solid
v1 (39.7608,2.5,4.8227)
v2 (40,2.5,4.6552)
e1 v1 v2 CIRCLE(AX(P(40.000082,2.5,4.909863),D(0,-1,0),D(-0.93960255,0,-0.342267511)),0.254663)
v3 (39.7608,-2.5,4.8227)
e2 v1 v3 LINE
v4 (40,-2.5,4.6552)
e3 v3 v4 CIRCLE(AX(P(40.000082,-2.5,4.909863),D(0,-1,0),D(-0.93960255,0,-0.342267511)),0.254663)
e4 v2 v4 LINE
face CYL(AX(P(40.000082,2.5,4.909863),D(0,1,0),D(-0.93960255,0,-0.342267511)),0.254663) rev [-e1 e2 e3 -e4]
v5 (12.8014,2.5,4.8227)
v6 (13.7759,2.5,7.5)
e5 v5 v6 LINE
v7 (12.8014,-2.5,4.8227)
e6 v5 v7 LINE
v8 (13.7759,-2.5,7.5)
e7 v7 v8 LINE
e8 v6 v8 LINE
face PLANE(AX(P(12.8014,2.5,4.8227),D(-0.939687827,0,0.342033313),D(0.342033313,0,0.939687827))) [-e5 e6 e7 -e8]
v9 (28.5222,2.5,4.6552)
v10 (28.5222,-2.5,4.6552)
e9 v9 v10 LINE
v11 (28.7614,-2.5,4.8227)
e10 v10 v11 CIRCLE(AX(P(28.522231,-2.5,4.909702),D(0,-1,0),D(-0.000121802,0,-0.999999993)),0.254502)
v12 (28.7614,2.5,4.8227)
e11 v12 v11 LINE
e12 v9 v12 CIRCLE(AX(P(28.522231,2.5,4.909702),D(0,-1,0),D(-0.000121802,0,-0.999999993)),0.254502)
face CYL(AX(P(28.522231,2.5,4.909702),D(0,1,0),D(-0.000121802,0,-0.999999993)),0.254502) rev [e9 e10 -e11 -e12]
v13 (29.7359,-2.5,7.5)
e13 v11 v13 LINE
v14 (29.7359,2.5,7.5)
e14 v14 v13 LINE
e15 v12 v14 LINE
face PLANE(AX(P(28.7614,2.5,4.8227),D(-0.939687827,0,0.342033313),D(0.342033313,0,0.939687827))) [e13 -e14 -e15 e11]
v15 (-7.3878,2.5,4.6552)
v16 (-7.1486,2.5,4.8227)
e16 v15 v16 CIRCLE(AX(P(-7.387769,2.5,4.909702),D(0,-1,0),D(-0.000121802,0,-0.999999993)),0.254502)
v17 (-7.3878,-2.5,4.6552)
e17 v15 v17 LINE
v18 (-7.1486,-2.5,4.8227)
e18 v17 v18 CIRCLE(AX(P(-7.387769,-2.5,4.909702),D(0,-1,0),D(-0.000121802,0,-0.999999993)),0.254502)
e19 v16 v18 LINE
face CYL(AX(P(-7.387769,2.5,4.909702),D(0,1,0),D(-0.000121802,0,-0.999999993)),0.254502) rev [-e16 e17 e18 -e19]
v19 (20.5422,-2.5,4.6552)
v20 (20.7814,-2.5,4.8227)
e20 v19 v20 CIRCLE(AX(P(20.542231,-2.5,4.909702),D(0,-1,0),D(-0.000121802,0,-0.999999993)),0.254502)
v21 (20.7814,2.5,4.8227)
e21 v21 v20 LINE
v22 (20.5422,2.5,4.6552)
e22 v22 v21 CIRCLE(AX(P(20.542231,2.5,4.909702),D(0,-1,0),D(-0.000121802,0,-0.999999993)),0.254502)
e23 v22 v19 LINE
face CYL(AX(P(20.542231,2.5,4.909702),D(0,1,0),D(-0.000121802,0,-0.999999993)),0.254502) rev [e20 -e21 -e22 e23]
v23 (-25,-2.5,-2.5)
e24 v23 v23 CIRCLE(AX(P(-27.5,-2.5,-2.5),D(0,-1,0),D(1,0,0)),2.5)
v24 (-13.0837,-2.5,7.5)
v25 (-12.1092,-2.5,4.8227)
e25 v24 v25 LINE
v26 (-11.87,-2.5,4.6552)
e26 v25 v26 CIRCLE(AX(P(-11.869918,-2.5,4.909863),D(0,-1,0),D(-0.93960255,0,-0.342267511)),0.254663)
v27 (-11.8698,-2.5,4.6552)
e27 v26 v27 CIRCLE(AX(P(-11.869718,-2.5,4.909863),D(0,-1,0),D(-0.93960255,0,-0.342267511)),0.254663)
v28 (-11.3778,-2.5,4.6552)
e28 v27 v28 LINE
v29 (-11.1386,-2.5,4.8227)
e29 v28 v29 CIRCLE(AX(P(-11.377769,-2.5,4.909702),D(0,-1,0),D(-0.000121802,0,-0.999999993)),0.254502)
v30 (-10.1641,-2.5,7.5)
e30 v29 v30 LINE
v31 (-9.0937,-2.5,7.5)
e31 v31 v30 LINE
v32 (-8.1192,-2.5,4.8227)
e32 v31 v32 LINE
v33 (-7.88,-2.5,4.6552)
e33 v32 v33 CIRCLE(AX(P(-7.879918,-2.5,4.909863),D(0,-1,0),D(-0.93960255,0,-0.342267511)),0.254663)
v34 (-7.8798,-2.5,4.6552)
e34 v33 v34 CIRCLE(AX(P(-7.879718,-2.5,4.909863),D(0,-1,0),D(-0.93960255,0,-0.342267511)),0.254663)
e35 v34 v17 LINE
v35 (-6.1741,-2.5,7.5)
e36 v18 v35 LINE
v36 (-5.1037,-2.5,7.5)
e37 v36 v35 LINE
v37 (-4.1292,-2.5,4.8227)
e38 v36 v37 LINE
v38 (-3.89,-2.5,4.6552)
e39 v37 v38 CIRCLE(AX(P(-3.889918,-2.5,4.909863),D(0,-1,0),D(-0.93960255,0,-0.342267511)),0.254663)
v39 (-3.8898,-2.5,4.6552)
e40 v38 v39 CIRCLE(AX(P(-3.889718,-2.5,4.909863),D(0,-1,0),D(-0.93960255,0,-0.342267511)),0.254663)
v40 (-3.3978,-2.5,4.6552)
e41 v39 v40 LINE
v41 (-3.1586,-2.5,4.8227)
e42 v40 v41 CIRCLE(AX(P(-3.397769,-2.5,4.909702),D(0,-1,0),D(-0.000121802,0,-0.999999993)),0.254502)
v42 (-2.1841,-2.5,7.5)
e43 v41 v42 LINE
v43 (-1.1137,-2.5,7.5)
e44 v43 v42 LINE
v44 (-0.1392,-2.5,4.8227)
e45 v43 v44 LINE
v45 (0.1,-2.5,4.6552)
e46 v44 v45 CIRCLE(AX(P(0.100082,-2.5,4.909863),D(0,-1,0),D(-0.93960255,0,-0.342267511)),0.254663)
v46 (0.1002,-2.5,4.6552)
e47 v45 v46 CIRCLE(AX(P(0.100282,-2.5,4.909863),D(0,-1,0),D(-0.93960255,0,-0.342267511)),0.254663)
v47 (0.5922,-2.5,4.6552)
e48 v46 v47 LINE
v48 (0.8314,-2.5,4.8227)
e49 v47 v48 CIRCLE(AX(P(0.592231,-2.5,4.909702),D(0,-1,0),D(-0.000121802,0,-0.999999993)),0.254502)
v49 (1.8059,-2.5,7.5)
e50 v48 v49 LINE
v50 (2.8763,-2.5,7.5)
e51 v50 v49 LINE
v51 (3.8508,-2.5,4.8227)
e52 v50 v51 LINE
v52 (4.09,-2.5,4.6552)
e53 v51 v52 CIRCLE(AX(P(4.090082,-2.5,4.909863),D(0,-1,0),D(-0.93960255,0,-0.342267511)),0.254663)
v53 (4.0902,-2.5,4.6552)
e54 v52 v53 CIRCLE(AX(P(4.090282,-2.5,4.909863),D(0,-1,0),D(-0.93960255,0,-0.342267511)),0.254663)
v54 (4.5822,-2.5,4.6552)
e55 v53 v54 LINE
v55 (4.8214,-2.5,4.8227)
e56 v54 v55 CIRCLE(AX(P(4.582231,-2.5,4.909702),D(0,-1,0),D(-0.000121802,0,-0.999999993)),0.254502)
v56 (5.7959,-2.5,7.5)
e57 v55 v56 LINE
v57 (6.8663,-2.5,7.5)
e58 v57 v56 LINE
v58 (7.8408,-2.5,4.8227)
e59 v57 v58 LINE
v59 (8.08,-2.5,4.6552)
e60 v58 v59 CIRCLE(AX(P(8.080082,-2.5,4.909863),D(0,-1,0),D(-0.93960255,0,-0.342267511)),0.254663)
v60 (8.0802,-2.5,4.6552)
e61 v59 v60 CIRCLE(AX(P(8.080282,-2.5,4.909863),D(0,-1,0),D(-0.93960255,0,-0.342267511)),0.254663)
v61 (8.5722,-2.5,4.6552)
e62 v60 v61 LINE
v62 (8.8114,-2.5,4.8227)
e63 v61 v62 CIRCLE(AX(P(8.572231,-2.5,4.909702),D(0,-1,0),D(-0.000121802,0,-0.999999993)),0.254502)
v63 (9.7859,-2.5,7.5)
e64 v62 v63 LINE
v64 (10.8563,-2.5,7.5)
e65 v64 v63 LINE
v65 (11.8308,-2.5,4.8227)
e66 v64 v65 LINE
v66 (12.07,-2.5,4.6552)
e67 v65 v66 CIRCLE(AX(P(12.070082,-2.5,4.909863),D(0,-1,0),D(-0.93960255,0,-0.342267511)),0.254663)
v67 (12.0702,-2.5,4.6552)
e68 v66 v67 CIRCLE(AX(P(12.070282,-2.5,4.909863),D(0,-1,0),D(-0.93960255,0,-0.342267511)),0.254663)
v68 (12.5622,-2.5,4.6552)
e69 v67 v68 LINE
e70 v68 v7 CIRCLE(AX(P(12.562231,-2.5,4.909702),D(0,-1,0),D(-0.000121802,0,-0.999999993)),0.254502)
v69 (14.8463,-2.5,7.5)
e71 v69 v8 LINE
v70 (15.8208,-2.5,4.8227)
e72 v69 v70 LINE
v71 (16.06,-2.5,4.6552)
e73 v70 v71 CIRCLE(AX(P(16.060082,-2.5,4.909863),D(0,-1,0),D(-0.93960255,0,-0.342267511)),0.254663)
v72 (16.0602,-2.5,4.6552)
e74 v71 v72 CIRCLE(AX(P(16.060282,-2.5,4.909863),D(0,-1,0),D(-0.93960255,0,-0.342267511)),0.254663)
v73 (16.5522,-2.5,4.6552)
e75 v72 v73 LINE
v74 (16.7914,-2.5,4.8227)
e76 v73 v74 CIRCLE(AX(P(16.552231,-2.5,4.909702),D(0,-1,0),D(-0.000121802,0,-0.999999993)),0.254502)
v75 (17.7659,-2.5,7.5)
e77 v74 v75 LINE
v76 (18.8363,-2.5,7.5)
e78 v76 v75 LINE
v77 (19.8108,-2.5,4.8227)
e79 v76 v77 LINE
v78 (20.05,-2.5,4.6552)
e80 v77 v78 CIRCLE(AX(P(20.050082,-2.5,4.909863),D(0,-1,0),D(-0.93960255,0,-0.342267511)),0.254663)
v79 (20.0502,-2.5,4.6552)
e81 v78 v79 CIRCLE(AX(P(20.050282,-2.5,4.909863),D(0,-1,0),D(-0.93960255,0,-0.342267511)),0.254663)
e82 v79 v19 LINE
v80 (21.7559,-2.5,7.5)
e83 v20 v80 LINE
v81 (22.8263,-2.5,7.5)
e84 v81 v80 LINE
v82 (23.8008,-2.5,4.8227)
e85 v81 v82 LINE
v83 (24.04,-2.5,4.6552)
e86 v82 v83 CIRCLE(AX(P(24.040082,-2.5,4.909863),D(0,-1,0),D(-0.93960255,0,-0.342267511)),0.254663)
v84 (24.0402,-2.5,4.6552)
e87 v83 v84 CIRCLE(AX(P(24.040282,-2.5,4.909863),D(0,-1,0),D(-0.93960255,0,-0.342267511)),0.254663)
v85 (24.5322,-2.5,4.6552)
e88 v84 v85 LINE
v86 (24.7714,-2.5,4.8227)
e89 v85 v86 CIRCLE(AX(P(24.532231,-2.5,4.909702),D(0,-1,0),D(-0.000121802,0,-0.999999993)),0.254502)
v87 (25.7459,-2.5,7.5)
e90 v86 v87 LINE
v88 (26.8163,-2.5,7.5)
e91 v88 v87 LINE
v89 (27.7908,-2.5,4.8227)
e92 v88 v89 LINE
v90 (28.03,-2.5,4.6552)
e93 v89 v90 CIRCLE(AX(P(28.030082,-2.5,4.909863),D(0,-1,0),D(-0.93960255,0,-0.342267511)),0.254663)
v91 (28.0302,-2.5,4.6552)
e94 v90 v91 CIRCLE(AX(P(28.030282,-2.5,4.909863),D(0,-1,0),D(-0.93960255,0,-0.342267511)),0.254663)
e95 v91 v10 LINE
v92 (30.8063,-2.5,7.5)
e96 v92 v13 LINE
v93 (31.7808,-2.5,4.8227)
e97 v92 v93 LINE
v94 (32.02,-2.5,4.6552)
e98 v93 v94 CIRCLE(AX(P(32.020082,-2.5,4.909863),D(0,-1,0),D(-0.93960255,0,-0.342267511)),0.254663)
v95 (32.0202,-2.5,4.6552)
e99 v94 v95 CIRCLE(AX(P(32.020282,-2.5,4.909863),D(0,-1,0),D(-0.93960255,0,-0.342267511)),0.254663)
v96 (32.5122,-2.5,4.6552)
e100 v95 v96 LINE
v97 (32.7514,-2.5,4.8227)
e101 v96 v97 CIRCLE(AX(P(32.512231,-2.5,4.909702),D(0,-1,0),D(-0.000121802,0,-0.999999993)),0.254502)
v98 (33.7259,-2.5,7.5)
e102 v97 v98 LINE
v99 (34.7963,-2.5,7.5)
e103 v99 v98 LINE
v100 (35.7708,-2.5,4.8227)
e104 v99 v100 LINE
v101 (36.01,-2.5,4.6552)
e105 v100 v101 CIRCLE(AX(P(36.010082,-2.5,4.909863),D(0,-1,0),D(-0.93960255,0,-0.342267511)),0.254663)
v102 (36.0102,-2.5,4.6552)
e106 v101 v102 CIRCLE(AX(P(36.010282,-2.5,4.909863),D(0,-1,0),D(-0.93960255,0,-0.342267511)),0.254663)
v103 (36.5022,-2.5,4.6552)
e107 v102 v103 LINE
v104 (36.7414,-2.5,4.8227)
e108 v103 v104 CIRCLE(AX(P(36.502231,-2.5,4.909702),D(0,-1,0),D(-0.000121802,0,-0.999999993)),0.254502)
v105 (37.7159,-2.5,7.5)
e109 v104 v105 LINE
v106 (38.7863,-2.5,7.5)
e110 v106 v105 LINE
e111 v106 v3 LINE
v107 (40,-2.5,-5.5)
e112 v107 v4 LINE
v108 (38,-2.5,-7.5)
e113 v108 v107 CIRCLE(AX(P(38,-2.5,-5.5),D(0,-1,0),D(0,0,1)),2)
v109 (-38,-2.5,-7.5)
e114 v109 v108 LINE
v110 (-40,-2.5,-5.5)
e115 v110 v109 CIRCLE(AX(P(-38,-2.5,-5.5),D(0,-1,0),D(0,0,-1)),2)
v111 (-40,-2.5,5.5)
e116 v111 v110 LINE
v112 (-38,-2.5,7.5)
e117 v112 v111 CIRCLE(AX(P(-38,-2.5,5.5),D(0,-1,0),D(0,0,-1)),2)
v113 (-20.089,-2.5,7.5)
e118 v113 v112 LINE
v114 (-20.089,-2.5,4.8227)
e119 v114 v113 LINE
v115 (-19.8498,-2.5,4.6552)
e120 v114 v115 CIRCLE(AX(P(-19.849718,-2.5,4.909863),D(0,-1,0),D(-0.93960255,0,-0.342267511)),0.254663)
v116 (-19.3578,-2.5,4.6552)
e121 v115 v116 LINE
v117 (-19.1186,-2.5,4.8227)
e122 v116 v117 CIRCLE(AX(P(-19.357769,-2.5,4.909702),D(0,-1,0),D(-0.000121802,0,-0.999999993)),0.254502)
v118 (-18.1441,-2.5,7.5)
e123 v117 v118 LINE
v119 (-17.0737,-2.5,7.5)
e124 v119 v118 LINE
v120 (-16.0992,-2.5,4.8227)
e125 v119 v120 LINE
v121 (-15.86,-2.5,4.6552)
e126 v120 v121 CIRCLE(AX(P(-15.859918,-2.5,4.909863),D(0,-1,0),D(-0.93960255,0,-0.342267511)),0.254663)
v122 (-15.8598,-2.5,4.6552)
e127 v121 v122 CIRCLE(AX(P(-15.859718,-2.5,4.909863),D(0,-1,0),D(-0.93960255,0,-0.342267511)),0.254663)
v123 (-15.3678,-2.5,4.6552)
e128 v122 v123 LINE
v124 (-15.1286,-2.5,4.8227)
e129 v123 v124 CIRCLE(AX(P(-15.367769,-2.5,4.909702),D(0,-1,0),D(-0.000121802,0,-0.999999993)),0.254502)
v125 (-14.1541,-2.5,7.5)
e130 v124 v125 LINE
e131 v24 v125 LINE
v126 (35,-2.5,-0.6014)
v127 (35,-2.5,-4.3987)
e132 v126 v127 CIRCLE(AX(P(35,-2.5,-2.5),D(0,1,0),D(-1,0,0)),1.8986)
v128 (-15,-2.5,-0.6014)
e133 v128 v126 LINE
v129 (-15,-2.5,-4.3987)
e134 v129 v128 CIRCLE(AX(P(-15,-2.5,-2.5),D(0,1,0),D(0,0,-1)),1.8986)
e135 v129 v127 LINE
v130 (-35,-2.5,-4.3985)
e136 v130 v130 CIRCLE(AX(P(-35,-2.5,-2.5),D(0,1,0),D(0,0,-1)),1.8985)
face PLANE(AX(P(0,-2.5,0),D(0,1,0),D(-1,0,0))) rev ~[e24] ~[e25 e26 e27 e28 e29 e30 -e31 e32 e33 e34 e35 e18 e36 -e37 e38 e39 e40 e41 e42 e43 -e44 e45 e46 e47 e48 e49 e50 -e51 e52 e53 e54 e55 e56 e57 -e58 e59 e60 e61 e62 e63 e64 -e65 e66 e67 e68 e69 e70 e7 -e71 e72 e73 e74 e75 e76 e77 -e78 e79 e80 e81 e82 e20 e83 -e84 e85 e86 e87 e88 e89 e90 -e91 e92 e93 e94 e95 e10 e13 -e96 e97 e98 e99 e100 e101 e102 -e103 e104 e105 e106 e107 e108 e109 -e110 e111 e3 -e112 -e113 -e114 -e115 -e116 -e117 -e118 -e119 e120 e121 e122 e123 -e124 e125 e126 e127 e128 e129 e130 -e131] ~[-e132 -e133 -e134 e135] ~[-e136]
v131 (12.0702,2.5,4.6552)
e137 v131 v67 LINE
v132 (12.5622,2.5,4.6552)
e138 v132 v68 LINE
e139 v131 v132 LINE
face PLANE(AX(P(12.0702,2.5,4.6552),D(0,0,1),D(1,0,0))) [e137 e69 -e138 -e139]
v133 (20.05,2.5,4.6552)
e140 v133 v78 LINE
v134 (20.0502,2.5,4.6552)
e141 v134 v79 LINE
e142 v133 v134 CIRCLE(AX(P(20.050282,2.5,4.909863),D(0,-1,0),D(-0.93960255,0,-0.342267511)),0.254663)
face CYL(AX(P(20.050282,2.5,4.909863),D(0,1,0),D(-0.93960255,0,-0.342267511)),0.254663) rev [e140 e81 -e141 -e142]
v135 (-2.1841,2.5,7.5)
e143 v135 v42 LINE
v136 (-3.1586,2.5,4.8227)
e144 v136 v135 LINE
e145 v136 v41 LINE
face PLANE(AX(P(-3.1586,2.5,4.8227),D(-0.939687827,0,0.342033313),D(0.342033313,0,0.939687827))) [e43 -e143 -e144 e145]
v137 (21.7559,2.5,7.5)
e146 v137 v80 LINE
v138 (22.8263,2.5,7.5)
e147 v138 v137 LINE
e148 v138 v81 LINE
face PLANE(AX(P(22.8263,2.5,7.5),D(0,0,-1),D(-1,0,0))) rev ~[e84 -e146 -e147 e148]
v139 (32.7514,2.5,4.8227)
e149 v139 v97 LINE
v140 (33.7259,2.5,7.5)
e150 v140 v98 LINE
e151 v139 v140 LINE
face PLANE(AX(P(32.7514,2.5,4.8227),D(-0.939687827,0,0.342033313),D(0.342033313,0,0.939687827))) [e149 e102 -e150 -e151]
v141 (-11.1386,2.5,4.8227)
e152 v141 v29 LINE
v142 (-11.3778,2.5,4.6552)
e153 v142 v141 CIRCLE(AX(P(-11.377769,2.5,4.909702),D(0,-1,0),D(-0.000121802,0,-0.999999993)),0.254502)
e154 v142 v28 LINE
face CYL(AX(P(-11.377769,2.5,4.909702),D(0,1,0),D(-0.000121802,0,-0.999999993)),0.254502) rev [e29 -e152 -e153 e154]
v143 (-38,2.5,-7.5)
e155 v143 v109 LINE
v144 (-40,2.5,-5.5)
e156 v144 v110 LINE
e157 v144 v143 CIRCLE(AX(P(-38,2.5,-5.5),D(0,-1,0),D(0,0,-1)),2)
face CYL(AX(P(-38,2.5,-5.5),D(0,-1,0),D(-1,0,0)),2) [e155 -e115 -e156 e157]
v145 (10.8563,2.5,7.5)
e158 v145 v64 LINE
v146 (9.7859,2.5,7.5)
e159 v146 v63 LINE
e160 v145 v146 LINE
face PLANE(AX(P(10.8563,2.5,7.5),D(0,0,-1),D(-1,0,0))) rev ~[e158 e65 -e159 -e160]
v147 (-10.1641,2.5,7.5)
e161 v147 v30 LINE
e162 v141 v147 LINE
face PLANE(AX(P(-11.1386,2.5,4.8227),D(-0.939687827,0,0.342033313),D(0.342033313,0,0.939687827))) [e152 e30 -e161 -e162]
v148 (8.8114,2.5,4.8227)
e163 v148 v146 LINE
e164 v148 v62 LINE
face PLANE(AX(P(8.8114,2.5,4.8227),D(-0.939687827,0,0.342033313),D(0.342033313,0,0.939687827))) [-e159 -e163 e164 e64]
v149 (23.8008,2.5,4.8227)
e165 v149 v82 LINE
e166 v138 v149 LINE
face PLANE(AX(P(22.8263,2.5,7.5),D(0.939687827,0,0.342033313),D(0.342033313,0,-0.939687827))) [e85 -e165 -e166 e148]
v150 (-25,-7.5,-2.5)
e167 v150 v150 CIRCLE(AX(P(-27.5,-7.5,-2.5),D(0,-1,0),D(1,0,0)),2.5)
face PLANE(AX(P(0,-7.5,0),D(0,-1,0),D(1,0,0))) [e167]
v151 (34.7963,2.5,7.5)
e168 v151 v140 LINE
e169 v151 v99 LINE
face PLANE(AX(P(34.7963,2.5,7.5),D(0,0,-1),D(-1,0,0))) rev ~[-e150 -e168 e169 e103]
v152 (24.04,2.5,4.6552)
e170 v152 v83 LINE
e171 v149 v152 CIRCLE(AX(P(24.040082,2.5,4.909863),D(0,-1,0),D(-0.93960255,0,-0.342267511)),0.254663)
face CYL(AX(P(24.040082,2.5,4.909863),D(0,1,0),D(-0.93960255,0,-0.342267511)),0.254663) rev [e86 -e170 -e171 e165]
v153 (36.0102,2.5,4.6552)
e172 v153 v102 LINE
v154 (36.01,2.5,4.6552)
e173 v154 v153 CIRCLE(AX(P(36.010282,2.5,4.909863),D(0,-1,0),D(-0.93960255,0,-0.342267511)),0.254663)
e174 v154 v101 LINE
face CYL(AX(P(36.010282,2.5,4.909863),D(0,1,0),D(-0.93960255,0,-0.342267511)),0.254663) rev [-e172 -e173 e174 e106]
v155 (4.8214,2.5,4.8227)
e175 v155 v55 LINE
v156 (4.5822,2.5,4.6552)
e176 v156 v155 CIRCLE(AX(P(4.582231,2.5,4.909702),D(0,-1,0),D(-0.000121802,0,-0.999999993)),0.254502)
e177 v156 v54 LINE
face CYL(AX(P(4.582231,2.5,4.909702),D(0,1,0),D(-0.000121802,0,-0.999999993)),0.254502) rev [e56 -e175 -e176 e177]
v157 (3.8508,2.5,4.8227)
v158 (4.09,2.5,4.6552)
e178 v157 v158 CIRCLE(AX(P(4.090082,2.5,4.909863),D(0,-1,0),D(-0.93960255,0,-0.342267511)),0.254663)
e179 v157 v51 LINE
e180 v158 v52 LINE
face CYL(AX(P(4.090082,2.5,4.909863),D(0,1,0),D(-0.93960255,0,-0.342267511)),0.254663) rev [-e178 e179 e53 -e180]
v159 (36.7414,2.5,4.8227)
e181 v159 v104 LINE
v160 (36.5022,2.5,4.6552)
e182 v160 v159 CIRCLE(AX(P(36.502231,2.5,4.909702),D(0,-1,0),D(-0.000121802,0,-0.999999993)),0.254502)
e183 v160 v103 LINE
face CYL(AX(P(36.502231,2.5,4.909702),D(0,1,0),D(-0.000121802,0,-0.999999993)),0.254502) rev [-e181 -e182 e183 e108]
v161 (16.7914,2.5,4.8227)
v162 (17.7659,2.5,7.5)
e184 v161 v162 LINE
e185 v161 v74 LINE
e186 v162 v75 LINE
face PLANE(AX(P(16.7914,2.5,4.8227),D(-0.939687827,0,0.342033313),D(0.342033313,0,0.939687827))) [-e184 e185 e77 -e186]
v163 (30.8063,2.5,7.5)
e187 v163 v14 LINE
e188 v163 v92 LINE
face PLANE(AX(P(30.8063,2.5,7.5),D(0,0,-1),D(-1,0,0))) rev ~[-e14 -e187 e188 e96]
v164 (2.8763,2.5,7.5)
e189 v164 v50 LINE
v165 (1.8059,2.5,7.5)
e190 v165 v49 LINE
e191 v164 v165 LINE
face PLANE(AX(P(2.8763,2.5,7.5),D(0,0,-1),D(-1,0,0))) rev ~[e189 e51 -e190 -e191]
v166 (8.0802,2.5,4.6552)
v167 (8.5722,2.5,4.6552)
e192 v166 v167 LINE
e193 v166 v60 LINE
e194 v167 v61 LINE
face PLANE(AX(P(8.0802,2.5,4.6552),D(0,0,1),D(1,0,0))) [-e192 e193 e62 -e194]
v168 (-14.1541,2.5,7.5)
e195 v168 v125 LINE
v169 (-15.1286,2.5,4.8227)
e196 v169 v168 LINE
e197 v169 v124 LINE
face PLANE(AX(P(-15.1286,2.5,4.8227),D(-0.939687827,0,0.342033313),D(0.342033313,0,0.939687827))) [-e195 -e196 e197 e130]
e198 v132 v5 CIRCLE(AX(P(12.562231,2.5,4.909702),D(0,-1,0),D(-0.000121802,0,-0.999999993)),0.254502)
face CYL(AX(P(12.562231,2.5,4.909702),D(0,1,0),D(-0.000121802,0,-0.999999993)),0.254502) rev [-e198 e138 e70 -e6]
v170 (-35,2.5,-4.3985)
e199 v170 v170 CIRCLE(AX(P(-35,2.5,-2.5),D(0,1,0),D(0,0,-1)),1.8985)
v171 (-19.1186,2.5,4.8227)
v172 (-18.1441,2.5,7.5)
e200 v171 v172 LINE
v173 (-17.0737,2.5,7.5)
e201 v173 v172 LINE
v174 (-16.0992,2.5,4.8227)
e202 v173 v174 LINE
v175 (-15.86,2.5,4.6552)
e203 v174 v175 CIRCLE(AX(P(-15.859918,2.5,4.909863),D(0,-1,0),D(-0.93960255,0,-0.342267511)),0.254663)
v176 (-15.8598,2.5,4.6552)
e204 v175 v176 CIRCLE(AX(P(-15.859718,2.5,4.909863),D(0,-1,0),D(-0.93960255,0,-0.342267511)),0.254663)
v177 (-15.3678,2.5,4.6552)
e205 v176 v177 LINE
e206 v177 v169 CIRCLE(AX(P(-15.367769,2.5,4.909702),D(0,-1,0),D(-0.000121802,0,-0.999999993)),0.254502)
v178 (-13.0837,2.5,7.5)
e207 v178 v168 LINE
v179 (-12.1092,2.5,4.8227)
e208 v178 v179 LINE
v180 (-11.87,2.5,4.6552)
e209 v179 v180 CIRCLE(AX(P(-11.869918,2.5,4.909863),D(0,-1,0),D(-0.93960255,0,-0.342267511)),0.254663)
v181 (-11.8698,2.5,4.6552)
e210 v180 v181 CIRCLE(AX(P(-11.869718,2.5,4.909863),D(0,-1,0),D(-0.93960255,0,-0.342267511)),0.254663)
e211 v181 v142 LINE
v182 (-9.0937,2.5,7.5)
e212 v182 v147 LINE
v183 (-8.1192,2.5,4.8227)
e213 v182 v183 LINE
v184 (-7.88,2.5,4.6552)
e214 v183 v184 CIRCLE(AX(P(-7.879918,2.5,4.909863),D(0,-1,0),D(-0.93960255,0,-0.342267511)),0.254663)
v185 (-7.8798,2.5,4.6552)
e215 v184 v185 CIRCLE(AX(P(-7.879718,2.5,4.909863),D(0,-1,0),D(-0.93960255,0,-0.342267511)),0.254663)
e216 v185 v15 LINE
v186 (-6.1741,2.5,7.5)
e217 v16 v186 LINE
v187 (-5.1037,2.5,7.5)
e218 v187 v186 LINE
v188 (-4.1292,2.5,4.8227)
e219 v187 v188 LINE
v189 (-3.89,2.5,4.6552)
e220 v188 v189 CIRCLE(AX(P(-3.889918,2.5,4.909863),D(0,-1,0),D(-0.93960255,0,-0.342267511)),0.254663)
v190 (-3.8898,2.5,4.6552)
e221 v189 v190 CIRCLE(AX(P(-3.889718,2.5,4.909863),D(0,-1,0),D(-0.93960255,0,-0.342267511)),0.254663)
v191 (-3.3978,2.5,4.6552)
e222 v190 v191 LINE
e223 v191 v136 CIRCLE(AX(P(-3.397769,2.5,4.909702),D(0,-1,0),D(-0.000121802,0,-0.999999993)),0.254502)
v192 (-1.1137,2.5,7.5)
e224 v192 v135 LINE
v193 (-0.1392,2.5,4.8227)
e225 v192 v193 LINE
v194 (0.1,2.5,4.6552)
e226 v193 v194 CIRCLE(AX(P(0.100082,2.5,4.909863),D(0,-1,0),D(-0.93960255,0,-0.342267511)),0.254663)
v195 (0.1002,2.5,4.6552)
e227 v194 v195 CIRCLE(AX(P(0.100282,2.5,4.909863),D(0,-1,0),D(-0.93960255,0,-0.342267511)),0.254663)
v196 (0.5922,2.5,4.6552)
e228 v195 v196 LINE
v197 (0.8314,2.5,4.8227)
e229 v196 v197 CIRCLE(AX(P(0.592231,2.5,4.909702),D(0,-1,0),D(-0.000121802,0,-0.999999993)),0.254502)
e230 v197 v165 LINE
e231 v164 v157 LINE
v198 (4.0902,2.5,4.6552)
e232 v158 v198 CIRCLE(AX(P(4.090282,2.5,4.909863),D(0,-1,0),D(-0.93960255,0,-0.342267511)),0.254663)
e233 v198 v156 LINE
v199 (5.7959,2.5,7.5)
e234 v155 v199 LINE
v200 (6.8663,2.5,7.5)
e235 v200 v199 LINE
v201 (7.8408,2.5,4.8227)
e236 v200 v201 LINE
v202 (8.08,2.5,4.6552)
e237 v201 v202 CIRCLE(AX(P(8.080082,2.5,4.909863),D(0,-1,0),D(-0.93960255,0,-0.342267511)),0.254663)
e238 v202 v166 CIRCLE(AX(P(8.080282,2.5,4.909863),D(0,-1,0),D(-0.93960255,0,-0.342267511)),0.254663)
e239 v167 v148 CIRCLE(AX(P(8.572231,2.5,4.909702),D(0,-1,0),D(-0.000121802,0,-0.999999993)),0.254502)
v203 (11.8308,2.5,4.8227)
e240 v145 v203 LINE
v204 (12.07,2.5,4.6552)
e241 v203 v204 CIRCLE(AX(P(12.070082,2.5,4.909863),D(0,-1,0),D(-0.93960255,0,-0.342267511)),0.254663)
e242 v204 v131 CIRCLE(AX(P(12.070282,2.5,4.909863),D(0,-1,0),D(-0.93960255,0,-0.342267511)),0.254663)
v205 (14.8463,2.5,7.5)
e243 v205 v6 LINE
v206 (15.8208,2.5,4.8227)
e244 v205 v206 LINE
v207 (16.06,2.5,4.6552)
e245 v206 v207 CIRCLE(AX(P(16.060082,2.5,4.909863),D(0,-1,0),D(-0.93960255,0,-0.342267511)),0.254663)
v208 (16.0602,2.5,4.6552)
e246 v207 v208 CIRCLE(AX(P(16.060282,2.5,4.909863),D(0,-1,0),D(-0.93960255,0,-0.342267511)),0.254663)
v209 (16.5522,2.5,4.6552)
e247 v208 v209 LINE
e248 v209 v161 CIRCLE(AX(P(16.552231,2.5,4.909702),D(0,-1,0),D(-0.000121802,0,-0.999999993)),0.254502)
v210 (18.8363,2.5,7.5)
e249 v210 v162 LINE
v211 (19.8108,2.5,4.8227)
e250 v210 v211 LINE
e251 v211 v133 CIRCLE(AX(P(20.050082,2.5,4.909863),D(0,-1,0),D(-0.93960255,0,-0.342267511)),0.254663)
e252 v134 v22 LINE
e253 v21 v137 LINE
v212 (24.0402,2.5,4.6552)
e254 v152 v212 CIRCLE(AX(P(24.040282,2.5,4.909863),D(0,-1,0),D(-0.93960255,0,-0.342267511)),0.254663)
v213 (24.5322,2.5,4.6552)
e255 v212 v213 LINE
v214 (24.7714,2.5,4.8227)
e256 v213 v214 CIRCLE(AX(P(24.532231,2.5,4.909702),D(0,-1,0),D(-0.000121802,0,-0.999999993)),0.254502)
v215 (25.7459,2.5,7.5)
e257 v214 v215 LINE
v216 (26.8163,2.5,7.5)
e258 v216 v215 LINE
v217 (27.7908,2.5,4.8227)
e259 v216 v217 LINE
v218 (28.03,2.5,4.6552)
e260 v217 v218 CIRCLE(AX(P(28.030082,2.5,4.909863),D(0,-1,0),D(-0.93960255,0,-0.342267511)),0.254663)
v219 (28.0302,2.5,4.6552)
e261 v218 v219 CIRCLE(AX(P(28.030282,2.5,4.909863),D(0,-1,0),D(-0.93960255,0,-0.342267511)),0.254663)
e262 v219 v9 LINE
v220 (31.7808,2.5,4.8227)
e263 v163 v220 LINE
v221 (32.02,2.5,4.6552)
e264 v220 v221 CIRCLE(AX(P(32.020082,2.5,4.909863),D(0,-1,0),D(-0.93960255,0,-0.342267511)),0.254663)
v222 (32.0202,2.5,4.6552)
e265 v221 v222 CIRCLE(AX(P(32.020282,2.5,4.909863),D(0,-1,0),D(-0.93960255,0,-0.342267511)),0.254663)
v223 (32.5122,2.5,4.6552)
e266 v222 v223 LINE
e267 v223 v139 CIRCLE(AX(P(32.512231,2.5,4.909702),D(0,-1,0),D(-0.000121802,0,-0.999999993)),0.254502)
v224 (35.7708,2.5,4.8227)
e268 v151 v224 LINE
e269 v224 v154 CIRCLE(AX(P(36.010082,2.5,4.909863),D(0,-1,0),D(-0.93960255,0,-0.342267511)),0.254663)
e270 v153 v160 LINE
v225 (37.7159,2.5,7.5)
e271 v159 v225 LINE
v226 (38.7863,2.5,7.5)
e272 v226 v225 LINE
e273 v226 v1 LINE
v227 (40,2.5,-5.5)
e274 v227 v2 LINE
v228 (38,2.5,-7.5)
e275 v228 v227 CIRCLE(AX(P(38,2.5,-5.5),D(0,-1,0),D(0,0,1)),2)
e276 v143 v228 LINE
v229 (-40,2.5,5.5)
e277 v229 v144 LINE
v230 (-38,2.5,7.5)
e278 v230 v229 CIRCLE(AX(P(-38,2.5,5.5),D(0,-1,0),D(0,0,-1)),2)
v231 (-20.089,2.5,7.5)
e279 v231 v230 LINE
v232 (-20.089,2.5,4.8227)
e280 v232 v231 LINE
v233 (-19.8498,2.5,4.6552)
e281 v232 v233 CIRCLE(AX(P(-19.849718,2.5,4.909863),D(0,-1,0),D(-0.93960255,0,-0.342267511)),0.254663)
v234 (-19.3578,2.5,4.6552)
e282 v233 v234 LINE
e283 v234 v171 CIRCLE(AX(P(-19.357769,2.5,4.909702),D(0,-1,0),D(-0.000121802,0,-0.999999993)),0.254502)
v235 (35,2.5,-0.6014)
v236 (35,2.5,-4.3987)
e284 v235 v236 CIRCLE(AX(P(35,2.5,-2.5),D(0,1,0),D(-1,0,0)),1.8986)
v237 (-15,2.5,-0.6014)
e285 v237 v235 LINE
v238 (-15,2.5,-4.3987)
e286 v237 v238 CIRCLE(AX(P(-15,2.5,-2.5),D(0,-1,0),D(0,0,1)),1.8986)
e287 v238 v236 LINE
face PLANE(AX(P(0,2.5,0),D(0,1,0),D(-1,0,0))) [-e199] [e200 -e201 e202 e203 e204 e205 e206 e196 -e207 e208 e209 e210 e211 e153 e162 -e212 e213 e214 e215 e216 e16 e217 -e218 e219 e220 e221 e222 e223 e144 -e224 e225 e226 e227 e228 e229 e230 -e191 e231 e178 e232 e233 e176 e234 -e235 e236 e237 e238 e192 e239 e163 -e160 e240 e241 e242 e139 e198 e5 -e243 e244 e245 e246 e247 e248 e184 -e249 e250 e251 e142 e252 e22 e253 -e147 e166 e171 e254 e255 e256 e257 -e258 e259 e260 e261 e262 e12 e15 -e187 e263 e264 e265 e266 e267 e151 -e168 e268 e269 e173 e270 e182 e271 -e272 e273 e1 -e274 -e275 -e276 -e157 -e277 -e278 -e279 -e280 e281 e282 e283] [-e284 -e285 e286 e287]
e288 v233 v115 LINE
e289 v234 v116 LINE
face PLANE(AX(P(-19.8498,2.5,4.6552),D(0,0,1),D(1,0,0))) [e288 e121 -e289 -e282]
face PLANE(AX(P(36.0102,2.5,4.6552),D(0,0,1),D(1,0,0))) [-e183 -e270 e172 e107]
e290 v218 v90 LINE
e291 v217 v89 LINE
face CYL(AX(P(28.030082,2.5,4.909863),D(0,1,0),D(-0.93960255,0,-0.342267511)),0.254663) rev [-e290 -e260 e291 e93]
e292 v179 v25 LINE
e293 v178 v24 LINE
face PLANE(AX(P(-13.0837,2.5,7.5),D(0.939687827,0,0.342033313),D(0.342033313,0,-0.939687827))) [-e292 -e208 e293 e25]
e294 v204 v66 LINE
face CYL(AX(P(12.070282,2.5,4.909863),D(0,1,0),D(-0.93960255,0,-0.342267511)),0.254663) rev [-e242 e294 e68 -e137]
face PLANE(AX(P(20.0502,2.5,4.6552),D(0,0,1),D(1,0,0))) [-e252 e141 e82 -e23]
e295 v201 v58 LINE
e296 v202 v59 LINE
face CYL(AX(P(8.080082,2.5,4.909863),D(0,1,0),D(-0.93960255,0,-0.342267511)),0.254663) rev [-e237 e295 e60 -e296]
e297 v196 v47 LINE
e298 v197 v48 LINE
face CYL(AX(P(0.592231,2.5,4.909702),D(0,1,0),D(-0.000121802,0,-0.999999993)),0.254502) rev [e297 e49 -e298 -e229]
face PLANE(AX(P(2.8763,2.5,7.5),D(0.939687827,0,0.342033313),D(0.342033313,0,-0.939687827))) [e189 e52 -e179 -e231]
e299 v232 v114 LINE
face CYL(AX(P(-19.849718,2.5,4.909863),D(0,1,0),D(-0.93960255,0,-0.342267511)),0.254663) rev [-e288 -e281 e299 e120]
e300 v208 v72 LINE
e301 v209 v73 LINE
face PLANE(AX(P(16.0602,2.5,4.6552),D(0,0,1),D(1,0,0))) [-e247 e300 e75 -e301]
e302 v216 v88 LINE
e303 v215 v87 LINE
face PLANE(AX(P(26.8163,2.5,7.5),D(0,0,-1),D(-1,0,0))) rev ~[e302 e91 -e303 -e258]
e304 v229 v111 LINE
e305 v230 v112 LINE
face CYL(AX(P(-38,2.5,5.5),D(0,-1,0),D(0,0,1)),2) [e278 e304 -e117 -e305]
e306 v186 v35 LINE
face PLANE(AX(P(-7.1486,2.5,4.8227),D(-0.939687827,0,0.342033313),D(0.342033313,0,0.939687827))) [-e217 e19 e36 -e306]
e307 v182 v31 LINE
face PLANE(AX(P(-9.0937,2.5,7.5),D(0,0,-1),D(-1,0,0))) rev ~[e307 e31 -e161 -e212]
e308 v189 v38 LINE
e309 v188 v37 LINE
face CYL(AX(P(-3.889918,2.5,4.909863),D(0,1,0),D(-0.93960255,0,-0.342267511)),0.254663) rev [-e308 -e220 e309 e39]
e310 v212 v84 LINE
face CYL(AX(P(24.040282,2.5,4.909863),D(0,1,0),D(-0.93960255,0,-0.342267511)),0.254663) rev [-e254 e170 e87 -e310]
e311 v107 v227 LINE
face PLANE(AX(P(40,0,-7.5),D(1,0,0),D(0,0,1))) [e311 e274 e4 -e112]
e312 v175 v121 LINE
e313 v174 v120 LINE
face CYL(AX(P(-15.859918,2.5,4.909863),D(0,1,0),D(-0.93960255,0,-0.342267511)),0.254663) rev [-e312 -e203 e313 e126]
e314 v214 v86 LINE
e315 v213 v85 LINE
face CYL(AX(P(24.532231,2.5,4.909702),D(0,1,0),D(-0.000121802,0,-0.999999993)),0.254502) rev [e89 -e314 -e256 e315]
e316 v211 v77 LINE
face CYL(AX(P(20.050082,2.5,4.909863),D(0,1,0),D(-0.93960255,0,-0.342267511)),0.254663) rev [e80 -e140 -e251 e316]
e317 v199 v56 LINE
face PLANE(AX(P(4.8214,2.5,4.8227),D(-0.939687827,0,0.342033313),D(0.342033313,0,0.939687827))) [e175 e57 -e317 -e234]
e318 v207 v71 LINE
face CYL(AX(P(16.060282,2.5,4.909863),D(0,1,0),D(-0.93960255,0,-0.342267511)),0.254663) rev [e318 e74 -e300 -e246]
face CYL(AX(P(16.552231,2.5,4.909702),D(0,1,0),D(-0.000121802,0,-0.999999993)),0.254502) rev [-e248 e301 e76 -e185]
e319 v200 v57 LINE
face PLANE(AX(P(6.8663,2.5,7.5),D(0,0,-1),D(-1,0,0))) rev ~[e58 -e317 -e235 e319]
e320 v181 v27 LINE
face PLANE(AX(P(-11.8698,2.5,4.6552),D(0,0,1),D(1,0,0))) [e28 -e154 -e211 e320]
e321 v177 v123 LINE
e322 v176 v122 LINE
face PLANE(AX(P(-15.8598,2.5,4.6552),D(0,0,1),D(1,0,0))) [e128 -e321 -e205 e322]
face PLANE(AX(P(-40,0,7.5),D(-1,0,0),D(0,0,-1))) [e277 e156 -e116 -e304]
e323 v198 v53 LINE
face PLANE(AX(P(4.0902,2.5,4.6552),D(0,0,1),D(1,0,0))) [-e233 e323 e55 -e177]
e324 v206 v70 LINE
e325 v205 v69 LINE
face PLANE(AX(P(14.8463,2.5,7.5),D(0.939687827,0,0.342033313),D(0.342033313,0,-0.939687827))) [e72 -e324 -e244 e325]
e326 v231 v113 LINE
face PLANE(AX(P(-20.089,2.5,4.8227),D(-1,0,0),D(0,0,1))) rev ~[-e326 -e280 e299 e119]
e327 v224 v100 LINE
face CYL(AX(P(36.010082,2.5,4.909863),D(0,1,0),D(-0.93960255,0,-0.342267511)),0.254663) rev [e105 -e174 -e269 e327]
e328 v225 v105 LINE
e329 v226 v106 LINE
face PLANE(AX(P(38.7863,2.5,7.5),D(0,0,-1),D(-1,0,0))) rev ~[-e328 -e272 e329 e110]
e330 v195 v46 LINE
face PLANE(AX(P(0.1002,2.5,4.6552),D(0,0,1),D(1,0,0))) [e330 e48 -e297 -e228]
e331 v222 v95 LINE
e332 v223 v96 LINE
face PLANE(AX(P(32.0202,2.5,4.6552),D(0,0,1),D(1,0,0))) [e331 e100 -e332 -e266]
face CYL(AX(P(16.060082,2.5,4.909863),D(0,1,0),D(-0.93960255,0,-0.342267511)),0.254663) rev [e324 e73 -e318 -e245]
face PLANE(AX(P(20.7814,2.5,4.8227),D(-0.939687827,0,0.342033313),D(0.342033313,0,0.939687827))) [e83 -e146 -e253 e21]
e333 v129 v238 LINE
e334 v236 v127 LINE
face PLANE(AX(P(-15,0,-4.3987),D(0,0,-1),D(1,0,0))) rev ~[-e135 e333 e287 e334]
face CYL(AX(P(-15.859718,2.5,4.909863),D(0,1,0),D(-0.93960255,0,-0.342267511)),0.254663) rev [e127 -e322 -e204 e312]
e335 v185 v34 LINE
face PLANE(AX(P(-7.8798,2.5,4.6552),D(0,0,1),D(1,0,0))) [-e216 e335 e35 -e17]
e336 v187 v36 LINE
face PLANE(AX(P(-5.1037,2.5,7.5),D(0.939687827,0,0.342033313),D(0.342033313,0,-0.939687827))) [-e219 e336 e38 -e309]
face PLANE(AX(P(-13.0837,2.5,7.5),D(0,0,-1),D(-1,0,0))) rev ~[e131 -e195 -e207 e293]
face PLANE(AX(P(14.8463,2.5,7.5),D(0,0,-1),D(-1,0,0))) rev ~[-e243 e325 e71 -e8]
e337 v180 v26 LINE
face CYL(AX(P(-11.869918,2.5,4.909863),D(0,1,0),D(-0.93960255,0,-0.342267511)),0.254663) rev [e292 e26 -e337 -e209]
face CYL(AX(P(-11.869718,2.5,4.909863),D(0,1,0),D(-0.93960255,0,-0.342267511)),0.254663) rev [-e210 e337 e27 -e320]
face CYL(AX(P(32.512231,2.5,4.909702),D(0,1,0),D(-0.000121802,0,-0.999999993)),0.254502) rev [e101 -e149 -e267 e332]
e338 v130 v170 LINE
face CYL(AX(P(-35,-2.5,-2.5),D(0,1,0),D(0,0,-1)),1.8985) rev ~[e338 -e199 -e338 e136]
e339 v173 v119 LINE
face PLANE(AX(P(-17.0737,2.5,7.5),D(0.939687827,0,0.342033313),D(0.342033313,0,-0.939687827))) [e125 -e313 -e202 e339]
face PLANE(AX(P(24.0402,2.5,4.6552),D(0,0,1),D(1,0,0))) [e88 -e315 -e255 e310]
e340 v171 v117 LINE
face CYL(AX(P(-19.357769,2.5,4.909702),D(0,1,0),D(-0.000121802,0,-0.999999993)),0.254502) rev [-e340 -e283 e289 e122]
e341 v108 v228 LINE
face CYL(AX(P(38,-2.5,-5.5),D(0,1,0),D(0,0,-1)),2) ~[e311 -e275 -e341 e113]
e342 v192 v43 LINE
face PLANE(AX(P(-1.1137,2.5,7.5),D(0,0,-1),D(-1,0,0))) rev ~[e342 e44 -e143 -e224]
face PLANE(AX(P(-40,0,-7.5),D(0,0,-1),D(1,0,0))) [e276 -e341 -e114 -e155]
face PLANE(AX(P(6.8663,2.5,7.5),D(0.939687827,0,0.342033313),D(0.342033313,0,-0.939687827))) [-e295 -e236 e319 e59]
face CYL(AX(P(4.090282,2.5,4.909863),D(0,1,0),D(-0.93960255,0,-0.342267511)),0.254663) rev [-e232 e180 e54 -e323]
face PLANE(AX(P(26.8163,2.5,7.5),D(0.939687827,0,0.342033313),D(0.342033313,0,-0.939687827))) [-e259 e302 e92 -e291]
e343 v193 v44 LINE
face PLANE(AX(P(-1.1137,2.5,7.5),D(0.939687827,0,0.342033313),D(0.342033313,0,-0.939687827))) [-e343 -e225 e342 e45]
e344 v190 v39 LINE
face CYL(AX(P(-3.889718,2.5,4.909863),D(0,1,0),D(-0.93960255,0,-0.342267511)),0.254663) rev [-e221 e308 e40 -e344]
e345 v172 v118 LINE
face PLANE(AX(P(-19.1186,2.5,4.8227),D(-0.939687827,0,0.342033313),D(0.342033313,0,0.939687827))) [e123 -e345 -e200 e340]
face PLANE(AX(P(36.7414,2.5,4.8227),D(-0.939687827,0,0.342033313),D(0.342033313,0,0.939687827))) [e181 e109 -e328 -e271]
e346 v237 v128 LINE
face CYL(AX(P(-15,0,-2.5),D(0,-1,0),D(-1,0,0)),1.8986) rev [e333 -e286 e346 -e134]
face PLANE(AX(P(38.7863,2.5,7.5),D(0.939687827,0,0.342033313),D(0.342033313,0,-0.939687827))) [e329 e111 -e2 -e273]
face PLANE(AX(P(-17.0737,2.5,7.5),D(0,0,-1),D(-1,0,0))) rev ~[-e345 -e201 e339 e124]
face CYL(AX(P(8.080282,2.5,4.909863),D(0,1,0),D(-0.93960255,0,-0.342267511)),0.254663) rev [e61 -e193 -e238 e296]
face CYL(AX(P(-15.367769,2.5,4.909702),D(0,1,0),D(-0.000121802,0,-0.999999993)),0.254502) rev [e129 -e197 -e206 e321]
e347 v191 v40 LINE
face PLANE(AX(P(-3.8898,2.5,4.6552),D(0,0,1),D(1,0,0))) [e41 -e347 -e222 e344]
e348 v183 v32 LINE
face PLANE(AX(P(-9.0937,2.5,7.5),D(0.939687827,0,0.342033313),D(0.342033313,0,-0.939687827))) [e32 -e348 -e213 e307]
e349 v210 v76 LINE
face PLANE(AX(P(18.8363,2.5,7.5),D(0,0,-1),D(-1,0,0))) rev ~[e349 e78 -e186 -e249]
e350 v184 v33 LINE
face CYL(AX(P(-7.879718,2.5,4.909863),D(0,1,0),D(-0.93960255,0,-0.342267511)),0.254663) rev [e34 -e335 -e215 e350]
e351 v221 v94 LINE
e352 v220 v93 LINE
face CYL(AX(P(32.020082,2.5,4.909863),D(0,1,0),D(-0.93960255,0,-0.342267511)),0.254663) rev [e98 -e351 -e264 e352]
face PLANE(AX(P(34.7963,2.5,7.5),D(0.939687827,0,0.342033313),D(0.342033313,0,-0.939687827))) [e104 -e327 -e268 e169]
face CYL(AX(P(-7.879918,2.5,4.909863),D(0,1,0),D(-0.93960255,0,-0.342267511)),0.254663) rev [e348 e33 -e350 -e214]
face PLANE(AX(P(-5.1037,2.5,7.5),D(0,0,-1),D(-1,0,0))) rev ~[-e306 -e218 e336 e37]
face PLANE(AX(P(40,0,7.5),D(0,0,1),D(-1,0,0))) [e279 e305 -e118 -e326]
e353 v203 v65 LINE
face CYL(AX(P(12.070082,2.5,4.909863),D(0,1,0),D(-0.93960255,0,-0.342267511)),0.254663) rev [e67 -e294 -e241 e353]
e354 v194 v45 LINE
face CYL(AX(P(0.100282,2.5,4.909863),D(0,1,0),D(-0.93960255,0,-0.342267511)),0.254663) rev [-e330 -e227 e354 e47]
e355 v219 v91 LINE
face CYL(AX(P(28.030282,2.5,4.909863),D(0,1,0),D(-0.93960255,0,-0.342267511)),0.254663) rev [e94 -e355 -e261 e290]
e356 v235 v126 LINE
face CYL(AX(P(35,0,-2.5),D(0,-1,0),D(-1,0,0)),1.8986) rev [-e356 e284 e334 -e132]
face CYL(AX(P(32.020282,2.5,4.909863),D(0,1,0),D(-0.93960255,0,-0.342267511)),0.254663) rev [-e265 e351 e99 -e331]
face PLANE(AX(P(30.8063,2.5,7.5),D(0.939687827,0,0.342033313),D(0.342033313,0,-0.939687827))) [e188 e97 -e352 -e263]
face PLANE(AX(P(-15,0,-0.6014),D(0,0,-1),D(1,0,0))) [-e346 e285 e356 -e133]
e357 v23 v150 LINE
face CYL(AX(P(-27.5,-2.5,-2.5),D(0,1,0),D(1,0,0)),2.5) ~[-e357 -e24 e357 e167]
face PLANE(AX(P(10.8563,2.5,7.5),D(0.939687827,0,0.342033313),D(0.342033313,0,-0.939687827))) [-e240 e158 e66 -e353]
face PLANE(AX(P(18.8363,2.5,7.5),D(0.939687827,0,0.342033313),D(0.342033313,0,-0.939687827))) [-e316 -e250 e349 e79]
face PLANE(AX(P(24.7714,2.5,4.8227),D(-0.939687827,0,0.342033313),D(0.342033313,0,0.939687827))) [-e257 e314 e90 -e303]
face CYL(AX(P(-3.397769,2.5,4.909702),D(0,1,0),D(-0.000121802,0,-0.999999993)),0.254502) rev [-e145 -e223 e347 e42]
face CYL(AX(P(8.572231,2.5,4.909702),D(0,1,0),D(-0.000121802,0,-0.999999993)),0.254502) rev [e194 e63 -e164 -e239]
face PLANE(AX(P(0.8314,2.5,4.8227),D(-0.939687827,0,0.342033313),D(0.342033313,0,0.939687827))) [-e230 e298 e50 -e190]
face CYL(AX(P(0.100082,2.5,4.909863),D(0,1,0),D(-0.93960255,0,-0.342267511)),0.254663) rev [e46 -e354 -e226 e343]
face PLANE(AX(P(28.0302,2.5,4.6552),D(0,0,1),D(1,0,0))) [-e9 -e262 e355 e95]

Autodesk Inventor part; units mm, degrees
ref_plane "YZ Plane" through (0, 0, 0) normal (1, 0, 0) x (0, 1, 0)
ref_plane "XZ Plane" through (0, 0, 0) normal (0, 1, 0) x (-1, 0, 0)
ref_plane "XY Plane" through (0, 0, 0) normal (0, 0, 1) x (1, 0, 0)
sketch "Sketch1" plane through (0, 0, 0) normal (0, 1, 0) x (-1, 0, 0)
  line L0 (-40, 7.5) -> (40, 7.5)
  line L1 (40, 7.5) -> (40, -7.5)
  line L2 (40, -7.5) -> (-40, -7.5)
  line L3 (-40, -7.5) -> (-40, 7.5)
  line L4 (-40, 7.5) -> (40, -7.5) construction
  line L5 (40, 7.5) -> (-40, -7.5) construction
  circle A0 centre (15, -2.5) radius 1.8986
  circle A1 centre (-35, -2.5) radius 1.8986
  line L6 (15, -0.6014) -> (-35, -0.6014)
  line L7 (15, -4.3987) -> (-35, -4.3987)
  point P0 (0, 0)
  point P1 (0, 0)
  point P2 (35, 0)
  point P3 (0, 0)
  dimension "d0" = 80
  dimension "d1" = 15
  dimension "d8" = 5
  dimension "d61" = 3.7973
  dimension "d62" = 3.7973
  dimension "d63" = 5
  dimension "d64" = 5
  dimension "d65" = 50
extrude "Extrusion1" add sketch "Sketch1" along normal mid plane 5
sketch "Sketch2" plane through (0, -2.5, 0) normal (0, -1, 0) x (1, 0, 0)
  line L0 (-40, 7.5) -> (-40, -7.5) projected
  line L1 (-40, -7.5) -> (40, -7.5) projected
  point P0 (0, 0)
  point P1 (-35, -2.5)
  point P2 (-40, 0)
  dimension "d16" = 5
  dimension "d60" = 5
hole "Hole2" at (-35, -2.5, -2.5) direction (0, 1, 0) diameter 3.797 end through all clearance for "Flat Head Machine Screw (82)" size "#6" standard "Ansi Unified Screw Threads"
sketch "Sketch3" plane through (0, -2.5, 0) normal (0, -1, 0) x (1, 0, 0)
  circle A0 centre (-27.5, -2.5) radius 2.5
  line L0 (-40, 7.5) -> (-40, -7.5) projected
  circle A1 centre (-35, -2.5) radius 1.8985 projected
  point P0 (0, 0)
  point P1 (-40, 0)
  dimension "d24" = 5
  dimension "d26" = 7.5
extrude "Extrusion2" add sketch "Sketch3" along normal blind 5 contours A0
sketch "Sketch5" plane through (0, 2.5, 0) normal (0, -1, 0) x (1, 0, 0)
  arc A0 (35.771, 4.8227) -> (36.0102, 4.6552) centre (36.0102, 4.9098) ccw
  line L0 (36.0102, 4.6552) -> (36.5022, 4.6552)
  arc A1 (36.5022, 4.6552) -> (36.7414, 4.8227) centre (36.5022, 4.9098) ccw
  line L1 (36.7414, 4.8227) -> (37.7159, 7.5)
  line L2 (38.7863, 7.5) -> (37.7159, 7.5)
  line L3 (38.7863, 7.5) -> (39.7608, 4.8227)
  arc A2 (39.7608, 4.8227) -> (40, 4.6552) centre (40, 4.9098) ccw
  line L4 (36.5022, 4.9098) -> (40, 4.9098) construction
  line L5 (40, 7.5) -> (-40, 7.5) construction
  line L6 (40, -7.5) -> (40, 7.5) construction
  line L7 (35.771, 4.8227) -> (35.771, 10.6552)
  line L8 (35.771, 10.6552) -> (40, 10.6552)
  line L9 (40, 10.6552) -> (40, 4.6552)
  line L10 (40, -7.5) -> (-40, -7.5) projected
  dimension "d49" = 0.2546
  dimension "d50" = 0.2546
  dimension "d51" = 0.4921
  dimension "d52" = 1.0704
  dimension "d53" = 2.8448
  dimension "d54" = 3.0194
  dimension "d55" = 0.2546
  dimension "d68" = 15
  dimension "d69" = 6
extrude "Extrusion4" cut sketch "Sketch5" along normal blind 5
pattern_linear "Rectangular Pattern1" count 15 spacing 3.99 along (-1, 0, 0) of "Extrusion4"
fillet "Fillet1" radius 2 3 edges at (-40, 0, 7.5) (40, 0, -7.5) (-40, 0, -7.5)
equation "\"d62\" = d61"
equation "\"d55\" = d50"
properties part number "Rack"
